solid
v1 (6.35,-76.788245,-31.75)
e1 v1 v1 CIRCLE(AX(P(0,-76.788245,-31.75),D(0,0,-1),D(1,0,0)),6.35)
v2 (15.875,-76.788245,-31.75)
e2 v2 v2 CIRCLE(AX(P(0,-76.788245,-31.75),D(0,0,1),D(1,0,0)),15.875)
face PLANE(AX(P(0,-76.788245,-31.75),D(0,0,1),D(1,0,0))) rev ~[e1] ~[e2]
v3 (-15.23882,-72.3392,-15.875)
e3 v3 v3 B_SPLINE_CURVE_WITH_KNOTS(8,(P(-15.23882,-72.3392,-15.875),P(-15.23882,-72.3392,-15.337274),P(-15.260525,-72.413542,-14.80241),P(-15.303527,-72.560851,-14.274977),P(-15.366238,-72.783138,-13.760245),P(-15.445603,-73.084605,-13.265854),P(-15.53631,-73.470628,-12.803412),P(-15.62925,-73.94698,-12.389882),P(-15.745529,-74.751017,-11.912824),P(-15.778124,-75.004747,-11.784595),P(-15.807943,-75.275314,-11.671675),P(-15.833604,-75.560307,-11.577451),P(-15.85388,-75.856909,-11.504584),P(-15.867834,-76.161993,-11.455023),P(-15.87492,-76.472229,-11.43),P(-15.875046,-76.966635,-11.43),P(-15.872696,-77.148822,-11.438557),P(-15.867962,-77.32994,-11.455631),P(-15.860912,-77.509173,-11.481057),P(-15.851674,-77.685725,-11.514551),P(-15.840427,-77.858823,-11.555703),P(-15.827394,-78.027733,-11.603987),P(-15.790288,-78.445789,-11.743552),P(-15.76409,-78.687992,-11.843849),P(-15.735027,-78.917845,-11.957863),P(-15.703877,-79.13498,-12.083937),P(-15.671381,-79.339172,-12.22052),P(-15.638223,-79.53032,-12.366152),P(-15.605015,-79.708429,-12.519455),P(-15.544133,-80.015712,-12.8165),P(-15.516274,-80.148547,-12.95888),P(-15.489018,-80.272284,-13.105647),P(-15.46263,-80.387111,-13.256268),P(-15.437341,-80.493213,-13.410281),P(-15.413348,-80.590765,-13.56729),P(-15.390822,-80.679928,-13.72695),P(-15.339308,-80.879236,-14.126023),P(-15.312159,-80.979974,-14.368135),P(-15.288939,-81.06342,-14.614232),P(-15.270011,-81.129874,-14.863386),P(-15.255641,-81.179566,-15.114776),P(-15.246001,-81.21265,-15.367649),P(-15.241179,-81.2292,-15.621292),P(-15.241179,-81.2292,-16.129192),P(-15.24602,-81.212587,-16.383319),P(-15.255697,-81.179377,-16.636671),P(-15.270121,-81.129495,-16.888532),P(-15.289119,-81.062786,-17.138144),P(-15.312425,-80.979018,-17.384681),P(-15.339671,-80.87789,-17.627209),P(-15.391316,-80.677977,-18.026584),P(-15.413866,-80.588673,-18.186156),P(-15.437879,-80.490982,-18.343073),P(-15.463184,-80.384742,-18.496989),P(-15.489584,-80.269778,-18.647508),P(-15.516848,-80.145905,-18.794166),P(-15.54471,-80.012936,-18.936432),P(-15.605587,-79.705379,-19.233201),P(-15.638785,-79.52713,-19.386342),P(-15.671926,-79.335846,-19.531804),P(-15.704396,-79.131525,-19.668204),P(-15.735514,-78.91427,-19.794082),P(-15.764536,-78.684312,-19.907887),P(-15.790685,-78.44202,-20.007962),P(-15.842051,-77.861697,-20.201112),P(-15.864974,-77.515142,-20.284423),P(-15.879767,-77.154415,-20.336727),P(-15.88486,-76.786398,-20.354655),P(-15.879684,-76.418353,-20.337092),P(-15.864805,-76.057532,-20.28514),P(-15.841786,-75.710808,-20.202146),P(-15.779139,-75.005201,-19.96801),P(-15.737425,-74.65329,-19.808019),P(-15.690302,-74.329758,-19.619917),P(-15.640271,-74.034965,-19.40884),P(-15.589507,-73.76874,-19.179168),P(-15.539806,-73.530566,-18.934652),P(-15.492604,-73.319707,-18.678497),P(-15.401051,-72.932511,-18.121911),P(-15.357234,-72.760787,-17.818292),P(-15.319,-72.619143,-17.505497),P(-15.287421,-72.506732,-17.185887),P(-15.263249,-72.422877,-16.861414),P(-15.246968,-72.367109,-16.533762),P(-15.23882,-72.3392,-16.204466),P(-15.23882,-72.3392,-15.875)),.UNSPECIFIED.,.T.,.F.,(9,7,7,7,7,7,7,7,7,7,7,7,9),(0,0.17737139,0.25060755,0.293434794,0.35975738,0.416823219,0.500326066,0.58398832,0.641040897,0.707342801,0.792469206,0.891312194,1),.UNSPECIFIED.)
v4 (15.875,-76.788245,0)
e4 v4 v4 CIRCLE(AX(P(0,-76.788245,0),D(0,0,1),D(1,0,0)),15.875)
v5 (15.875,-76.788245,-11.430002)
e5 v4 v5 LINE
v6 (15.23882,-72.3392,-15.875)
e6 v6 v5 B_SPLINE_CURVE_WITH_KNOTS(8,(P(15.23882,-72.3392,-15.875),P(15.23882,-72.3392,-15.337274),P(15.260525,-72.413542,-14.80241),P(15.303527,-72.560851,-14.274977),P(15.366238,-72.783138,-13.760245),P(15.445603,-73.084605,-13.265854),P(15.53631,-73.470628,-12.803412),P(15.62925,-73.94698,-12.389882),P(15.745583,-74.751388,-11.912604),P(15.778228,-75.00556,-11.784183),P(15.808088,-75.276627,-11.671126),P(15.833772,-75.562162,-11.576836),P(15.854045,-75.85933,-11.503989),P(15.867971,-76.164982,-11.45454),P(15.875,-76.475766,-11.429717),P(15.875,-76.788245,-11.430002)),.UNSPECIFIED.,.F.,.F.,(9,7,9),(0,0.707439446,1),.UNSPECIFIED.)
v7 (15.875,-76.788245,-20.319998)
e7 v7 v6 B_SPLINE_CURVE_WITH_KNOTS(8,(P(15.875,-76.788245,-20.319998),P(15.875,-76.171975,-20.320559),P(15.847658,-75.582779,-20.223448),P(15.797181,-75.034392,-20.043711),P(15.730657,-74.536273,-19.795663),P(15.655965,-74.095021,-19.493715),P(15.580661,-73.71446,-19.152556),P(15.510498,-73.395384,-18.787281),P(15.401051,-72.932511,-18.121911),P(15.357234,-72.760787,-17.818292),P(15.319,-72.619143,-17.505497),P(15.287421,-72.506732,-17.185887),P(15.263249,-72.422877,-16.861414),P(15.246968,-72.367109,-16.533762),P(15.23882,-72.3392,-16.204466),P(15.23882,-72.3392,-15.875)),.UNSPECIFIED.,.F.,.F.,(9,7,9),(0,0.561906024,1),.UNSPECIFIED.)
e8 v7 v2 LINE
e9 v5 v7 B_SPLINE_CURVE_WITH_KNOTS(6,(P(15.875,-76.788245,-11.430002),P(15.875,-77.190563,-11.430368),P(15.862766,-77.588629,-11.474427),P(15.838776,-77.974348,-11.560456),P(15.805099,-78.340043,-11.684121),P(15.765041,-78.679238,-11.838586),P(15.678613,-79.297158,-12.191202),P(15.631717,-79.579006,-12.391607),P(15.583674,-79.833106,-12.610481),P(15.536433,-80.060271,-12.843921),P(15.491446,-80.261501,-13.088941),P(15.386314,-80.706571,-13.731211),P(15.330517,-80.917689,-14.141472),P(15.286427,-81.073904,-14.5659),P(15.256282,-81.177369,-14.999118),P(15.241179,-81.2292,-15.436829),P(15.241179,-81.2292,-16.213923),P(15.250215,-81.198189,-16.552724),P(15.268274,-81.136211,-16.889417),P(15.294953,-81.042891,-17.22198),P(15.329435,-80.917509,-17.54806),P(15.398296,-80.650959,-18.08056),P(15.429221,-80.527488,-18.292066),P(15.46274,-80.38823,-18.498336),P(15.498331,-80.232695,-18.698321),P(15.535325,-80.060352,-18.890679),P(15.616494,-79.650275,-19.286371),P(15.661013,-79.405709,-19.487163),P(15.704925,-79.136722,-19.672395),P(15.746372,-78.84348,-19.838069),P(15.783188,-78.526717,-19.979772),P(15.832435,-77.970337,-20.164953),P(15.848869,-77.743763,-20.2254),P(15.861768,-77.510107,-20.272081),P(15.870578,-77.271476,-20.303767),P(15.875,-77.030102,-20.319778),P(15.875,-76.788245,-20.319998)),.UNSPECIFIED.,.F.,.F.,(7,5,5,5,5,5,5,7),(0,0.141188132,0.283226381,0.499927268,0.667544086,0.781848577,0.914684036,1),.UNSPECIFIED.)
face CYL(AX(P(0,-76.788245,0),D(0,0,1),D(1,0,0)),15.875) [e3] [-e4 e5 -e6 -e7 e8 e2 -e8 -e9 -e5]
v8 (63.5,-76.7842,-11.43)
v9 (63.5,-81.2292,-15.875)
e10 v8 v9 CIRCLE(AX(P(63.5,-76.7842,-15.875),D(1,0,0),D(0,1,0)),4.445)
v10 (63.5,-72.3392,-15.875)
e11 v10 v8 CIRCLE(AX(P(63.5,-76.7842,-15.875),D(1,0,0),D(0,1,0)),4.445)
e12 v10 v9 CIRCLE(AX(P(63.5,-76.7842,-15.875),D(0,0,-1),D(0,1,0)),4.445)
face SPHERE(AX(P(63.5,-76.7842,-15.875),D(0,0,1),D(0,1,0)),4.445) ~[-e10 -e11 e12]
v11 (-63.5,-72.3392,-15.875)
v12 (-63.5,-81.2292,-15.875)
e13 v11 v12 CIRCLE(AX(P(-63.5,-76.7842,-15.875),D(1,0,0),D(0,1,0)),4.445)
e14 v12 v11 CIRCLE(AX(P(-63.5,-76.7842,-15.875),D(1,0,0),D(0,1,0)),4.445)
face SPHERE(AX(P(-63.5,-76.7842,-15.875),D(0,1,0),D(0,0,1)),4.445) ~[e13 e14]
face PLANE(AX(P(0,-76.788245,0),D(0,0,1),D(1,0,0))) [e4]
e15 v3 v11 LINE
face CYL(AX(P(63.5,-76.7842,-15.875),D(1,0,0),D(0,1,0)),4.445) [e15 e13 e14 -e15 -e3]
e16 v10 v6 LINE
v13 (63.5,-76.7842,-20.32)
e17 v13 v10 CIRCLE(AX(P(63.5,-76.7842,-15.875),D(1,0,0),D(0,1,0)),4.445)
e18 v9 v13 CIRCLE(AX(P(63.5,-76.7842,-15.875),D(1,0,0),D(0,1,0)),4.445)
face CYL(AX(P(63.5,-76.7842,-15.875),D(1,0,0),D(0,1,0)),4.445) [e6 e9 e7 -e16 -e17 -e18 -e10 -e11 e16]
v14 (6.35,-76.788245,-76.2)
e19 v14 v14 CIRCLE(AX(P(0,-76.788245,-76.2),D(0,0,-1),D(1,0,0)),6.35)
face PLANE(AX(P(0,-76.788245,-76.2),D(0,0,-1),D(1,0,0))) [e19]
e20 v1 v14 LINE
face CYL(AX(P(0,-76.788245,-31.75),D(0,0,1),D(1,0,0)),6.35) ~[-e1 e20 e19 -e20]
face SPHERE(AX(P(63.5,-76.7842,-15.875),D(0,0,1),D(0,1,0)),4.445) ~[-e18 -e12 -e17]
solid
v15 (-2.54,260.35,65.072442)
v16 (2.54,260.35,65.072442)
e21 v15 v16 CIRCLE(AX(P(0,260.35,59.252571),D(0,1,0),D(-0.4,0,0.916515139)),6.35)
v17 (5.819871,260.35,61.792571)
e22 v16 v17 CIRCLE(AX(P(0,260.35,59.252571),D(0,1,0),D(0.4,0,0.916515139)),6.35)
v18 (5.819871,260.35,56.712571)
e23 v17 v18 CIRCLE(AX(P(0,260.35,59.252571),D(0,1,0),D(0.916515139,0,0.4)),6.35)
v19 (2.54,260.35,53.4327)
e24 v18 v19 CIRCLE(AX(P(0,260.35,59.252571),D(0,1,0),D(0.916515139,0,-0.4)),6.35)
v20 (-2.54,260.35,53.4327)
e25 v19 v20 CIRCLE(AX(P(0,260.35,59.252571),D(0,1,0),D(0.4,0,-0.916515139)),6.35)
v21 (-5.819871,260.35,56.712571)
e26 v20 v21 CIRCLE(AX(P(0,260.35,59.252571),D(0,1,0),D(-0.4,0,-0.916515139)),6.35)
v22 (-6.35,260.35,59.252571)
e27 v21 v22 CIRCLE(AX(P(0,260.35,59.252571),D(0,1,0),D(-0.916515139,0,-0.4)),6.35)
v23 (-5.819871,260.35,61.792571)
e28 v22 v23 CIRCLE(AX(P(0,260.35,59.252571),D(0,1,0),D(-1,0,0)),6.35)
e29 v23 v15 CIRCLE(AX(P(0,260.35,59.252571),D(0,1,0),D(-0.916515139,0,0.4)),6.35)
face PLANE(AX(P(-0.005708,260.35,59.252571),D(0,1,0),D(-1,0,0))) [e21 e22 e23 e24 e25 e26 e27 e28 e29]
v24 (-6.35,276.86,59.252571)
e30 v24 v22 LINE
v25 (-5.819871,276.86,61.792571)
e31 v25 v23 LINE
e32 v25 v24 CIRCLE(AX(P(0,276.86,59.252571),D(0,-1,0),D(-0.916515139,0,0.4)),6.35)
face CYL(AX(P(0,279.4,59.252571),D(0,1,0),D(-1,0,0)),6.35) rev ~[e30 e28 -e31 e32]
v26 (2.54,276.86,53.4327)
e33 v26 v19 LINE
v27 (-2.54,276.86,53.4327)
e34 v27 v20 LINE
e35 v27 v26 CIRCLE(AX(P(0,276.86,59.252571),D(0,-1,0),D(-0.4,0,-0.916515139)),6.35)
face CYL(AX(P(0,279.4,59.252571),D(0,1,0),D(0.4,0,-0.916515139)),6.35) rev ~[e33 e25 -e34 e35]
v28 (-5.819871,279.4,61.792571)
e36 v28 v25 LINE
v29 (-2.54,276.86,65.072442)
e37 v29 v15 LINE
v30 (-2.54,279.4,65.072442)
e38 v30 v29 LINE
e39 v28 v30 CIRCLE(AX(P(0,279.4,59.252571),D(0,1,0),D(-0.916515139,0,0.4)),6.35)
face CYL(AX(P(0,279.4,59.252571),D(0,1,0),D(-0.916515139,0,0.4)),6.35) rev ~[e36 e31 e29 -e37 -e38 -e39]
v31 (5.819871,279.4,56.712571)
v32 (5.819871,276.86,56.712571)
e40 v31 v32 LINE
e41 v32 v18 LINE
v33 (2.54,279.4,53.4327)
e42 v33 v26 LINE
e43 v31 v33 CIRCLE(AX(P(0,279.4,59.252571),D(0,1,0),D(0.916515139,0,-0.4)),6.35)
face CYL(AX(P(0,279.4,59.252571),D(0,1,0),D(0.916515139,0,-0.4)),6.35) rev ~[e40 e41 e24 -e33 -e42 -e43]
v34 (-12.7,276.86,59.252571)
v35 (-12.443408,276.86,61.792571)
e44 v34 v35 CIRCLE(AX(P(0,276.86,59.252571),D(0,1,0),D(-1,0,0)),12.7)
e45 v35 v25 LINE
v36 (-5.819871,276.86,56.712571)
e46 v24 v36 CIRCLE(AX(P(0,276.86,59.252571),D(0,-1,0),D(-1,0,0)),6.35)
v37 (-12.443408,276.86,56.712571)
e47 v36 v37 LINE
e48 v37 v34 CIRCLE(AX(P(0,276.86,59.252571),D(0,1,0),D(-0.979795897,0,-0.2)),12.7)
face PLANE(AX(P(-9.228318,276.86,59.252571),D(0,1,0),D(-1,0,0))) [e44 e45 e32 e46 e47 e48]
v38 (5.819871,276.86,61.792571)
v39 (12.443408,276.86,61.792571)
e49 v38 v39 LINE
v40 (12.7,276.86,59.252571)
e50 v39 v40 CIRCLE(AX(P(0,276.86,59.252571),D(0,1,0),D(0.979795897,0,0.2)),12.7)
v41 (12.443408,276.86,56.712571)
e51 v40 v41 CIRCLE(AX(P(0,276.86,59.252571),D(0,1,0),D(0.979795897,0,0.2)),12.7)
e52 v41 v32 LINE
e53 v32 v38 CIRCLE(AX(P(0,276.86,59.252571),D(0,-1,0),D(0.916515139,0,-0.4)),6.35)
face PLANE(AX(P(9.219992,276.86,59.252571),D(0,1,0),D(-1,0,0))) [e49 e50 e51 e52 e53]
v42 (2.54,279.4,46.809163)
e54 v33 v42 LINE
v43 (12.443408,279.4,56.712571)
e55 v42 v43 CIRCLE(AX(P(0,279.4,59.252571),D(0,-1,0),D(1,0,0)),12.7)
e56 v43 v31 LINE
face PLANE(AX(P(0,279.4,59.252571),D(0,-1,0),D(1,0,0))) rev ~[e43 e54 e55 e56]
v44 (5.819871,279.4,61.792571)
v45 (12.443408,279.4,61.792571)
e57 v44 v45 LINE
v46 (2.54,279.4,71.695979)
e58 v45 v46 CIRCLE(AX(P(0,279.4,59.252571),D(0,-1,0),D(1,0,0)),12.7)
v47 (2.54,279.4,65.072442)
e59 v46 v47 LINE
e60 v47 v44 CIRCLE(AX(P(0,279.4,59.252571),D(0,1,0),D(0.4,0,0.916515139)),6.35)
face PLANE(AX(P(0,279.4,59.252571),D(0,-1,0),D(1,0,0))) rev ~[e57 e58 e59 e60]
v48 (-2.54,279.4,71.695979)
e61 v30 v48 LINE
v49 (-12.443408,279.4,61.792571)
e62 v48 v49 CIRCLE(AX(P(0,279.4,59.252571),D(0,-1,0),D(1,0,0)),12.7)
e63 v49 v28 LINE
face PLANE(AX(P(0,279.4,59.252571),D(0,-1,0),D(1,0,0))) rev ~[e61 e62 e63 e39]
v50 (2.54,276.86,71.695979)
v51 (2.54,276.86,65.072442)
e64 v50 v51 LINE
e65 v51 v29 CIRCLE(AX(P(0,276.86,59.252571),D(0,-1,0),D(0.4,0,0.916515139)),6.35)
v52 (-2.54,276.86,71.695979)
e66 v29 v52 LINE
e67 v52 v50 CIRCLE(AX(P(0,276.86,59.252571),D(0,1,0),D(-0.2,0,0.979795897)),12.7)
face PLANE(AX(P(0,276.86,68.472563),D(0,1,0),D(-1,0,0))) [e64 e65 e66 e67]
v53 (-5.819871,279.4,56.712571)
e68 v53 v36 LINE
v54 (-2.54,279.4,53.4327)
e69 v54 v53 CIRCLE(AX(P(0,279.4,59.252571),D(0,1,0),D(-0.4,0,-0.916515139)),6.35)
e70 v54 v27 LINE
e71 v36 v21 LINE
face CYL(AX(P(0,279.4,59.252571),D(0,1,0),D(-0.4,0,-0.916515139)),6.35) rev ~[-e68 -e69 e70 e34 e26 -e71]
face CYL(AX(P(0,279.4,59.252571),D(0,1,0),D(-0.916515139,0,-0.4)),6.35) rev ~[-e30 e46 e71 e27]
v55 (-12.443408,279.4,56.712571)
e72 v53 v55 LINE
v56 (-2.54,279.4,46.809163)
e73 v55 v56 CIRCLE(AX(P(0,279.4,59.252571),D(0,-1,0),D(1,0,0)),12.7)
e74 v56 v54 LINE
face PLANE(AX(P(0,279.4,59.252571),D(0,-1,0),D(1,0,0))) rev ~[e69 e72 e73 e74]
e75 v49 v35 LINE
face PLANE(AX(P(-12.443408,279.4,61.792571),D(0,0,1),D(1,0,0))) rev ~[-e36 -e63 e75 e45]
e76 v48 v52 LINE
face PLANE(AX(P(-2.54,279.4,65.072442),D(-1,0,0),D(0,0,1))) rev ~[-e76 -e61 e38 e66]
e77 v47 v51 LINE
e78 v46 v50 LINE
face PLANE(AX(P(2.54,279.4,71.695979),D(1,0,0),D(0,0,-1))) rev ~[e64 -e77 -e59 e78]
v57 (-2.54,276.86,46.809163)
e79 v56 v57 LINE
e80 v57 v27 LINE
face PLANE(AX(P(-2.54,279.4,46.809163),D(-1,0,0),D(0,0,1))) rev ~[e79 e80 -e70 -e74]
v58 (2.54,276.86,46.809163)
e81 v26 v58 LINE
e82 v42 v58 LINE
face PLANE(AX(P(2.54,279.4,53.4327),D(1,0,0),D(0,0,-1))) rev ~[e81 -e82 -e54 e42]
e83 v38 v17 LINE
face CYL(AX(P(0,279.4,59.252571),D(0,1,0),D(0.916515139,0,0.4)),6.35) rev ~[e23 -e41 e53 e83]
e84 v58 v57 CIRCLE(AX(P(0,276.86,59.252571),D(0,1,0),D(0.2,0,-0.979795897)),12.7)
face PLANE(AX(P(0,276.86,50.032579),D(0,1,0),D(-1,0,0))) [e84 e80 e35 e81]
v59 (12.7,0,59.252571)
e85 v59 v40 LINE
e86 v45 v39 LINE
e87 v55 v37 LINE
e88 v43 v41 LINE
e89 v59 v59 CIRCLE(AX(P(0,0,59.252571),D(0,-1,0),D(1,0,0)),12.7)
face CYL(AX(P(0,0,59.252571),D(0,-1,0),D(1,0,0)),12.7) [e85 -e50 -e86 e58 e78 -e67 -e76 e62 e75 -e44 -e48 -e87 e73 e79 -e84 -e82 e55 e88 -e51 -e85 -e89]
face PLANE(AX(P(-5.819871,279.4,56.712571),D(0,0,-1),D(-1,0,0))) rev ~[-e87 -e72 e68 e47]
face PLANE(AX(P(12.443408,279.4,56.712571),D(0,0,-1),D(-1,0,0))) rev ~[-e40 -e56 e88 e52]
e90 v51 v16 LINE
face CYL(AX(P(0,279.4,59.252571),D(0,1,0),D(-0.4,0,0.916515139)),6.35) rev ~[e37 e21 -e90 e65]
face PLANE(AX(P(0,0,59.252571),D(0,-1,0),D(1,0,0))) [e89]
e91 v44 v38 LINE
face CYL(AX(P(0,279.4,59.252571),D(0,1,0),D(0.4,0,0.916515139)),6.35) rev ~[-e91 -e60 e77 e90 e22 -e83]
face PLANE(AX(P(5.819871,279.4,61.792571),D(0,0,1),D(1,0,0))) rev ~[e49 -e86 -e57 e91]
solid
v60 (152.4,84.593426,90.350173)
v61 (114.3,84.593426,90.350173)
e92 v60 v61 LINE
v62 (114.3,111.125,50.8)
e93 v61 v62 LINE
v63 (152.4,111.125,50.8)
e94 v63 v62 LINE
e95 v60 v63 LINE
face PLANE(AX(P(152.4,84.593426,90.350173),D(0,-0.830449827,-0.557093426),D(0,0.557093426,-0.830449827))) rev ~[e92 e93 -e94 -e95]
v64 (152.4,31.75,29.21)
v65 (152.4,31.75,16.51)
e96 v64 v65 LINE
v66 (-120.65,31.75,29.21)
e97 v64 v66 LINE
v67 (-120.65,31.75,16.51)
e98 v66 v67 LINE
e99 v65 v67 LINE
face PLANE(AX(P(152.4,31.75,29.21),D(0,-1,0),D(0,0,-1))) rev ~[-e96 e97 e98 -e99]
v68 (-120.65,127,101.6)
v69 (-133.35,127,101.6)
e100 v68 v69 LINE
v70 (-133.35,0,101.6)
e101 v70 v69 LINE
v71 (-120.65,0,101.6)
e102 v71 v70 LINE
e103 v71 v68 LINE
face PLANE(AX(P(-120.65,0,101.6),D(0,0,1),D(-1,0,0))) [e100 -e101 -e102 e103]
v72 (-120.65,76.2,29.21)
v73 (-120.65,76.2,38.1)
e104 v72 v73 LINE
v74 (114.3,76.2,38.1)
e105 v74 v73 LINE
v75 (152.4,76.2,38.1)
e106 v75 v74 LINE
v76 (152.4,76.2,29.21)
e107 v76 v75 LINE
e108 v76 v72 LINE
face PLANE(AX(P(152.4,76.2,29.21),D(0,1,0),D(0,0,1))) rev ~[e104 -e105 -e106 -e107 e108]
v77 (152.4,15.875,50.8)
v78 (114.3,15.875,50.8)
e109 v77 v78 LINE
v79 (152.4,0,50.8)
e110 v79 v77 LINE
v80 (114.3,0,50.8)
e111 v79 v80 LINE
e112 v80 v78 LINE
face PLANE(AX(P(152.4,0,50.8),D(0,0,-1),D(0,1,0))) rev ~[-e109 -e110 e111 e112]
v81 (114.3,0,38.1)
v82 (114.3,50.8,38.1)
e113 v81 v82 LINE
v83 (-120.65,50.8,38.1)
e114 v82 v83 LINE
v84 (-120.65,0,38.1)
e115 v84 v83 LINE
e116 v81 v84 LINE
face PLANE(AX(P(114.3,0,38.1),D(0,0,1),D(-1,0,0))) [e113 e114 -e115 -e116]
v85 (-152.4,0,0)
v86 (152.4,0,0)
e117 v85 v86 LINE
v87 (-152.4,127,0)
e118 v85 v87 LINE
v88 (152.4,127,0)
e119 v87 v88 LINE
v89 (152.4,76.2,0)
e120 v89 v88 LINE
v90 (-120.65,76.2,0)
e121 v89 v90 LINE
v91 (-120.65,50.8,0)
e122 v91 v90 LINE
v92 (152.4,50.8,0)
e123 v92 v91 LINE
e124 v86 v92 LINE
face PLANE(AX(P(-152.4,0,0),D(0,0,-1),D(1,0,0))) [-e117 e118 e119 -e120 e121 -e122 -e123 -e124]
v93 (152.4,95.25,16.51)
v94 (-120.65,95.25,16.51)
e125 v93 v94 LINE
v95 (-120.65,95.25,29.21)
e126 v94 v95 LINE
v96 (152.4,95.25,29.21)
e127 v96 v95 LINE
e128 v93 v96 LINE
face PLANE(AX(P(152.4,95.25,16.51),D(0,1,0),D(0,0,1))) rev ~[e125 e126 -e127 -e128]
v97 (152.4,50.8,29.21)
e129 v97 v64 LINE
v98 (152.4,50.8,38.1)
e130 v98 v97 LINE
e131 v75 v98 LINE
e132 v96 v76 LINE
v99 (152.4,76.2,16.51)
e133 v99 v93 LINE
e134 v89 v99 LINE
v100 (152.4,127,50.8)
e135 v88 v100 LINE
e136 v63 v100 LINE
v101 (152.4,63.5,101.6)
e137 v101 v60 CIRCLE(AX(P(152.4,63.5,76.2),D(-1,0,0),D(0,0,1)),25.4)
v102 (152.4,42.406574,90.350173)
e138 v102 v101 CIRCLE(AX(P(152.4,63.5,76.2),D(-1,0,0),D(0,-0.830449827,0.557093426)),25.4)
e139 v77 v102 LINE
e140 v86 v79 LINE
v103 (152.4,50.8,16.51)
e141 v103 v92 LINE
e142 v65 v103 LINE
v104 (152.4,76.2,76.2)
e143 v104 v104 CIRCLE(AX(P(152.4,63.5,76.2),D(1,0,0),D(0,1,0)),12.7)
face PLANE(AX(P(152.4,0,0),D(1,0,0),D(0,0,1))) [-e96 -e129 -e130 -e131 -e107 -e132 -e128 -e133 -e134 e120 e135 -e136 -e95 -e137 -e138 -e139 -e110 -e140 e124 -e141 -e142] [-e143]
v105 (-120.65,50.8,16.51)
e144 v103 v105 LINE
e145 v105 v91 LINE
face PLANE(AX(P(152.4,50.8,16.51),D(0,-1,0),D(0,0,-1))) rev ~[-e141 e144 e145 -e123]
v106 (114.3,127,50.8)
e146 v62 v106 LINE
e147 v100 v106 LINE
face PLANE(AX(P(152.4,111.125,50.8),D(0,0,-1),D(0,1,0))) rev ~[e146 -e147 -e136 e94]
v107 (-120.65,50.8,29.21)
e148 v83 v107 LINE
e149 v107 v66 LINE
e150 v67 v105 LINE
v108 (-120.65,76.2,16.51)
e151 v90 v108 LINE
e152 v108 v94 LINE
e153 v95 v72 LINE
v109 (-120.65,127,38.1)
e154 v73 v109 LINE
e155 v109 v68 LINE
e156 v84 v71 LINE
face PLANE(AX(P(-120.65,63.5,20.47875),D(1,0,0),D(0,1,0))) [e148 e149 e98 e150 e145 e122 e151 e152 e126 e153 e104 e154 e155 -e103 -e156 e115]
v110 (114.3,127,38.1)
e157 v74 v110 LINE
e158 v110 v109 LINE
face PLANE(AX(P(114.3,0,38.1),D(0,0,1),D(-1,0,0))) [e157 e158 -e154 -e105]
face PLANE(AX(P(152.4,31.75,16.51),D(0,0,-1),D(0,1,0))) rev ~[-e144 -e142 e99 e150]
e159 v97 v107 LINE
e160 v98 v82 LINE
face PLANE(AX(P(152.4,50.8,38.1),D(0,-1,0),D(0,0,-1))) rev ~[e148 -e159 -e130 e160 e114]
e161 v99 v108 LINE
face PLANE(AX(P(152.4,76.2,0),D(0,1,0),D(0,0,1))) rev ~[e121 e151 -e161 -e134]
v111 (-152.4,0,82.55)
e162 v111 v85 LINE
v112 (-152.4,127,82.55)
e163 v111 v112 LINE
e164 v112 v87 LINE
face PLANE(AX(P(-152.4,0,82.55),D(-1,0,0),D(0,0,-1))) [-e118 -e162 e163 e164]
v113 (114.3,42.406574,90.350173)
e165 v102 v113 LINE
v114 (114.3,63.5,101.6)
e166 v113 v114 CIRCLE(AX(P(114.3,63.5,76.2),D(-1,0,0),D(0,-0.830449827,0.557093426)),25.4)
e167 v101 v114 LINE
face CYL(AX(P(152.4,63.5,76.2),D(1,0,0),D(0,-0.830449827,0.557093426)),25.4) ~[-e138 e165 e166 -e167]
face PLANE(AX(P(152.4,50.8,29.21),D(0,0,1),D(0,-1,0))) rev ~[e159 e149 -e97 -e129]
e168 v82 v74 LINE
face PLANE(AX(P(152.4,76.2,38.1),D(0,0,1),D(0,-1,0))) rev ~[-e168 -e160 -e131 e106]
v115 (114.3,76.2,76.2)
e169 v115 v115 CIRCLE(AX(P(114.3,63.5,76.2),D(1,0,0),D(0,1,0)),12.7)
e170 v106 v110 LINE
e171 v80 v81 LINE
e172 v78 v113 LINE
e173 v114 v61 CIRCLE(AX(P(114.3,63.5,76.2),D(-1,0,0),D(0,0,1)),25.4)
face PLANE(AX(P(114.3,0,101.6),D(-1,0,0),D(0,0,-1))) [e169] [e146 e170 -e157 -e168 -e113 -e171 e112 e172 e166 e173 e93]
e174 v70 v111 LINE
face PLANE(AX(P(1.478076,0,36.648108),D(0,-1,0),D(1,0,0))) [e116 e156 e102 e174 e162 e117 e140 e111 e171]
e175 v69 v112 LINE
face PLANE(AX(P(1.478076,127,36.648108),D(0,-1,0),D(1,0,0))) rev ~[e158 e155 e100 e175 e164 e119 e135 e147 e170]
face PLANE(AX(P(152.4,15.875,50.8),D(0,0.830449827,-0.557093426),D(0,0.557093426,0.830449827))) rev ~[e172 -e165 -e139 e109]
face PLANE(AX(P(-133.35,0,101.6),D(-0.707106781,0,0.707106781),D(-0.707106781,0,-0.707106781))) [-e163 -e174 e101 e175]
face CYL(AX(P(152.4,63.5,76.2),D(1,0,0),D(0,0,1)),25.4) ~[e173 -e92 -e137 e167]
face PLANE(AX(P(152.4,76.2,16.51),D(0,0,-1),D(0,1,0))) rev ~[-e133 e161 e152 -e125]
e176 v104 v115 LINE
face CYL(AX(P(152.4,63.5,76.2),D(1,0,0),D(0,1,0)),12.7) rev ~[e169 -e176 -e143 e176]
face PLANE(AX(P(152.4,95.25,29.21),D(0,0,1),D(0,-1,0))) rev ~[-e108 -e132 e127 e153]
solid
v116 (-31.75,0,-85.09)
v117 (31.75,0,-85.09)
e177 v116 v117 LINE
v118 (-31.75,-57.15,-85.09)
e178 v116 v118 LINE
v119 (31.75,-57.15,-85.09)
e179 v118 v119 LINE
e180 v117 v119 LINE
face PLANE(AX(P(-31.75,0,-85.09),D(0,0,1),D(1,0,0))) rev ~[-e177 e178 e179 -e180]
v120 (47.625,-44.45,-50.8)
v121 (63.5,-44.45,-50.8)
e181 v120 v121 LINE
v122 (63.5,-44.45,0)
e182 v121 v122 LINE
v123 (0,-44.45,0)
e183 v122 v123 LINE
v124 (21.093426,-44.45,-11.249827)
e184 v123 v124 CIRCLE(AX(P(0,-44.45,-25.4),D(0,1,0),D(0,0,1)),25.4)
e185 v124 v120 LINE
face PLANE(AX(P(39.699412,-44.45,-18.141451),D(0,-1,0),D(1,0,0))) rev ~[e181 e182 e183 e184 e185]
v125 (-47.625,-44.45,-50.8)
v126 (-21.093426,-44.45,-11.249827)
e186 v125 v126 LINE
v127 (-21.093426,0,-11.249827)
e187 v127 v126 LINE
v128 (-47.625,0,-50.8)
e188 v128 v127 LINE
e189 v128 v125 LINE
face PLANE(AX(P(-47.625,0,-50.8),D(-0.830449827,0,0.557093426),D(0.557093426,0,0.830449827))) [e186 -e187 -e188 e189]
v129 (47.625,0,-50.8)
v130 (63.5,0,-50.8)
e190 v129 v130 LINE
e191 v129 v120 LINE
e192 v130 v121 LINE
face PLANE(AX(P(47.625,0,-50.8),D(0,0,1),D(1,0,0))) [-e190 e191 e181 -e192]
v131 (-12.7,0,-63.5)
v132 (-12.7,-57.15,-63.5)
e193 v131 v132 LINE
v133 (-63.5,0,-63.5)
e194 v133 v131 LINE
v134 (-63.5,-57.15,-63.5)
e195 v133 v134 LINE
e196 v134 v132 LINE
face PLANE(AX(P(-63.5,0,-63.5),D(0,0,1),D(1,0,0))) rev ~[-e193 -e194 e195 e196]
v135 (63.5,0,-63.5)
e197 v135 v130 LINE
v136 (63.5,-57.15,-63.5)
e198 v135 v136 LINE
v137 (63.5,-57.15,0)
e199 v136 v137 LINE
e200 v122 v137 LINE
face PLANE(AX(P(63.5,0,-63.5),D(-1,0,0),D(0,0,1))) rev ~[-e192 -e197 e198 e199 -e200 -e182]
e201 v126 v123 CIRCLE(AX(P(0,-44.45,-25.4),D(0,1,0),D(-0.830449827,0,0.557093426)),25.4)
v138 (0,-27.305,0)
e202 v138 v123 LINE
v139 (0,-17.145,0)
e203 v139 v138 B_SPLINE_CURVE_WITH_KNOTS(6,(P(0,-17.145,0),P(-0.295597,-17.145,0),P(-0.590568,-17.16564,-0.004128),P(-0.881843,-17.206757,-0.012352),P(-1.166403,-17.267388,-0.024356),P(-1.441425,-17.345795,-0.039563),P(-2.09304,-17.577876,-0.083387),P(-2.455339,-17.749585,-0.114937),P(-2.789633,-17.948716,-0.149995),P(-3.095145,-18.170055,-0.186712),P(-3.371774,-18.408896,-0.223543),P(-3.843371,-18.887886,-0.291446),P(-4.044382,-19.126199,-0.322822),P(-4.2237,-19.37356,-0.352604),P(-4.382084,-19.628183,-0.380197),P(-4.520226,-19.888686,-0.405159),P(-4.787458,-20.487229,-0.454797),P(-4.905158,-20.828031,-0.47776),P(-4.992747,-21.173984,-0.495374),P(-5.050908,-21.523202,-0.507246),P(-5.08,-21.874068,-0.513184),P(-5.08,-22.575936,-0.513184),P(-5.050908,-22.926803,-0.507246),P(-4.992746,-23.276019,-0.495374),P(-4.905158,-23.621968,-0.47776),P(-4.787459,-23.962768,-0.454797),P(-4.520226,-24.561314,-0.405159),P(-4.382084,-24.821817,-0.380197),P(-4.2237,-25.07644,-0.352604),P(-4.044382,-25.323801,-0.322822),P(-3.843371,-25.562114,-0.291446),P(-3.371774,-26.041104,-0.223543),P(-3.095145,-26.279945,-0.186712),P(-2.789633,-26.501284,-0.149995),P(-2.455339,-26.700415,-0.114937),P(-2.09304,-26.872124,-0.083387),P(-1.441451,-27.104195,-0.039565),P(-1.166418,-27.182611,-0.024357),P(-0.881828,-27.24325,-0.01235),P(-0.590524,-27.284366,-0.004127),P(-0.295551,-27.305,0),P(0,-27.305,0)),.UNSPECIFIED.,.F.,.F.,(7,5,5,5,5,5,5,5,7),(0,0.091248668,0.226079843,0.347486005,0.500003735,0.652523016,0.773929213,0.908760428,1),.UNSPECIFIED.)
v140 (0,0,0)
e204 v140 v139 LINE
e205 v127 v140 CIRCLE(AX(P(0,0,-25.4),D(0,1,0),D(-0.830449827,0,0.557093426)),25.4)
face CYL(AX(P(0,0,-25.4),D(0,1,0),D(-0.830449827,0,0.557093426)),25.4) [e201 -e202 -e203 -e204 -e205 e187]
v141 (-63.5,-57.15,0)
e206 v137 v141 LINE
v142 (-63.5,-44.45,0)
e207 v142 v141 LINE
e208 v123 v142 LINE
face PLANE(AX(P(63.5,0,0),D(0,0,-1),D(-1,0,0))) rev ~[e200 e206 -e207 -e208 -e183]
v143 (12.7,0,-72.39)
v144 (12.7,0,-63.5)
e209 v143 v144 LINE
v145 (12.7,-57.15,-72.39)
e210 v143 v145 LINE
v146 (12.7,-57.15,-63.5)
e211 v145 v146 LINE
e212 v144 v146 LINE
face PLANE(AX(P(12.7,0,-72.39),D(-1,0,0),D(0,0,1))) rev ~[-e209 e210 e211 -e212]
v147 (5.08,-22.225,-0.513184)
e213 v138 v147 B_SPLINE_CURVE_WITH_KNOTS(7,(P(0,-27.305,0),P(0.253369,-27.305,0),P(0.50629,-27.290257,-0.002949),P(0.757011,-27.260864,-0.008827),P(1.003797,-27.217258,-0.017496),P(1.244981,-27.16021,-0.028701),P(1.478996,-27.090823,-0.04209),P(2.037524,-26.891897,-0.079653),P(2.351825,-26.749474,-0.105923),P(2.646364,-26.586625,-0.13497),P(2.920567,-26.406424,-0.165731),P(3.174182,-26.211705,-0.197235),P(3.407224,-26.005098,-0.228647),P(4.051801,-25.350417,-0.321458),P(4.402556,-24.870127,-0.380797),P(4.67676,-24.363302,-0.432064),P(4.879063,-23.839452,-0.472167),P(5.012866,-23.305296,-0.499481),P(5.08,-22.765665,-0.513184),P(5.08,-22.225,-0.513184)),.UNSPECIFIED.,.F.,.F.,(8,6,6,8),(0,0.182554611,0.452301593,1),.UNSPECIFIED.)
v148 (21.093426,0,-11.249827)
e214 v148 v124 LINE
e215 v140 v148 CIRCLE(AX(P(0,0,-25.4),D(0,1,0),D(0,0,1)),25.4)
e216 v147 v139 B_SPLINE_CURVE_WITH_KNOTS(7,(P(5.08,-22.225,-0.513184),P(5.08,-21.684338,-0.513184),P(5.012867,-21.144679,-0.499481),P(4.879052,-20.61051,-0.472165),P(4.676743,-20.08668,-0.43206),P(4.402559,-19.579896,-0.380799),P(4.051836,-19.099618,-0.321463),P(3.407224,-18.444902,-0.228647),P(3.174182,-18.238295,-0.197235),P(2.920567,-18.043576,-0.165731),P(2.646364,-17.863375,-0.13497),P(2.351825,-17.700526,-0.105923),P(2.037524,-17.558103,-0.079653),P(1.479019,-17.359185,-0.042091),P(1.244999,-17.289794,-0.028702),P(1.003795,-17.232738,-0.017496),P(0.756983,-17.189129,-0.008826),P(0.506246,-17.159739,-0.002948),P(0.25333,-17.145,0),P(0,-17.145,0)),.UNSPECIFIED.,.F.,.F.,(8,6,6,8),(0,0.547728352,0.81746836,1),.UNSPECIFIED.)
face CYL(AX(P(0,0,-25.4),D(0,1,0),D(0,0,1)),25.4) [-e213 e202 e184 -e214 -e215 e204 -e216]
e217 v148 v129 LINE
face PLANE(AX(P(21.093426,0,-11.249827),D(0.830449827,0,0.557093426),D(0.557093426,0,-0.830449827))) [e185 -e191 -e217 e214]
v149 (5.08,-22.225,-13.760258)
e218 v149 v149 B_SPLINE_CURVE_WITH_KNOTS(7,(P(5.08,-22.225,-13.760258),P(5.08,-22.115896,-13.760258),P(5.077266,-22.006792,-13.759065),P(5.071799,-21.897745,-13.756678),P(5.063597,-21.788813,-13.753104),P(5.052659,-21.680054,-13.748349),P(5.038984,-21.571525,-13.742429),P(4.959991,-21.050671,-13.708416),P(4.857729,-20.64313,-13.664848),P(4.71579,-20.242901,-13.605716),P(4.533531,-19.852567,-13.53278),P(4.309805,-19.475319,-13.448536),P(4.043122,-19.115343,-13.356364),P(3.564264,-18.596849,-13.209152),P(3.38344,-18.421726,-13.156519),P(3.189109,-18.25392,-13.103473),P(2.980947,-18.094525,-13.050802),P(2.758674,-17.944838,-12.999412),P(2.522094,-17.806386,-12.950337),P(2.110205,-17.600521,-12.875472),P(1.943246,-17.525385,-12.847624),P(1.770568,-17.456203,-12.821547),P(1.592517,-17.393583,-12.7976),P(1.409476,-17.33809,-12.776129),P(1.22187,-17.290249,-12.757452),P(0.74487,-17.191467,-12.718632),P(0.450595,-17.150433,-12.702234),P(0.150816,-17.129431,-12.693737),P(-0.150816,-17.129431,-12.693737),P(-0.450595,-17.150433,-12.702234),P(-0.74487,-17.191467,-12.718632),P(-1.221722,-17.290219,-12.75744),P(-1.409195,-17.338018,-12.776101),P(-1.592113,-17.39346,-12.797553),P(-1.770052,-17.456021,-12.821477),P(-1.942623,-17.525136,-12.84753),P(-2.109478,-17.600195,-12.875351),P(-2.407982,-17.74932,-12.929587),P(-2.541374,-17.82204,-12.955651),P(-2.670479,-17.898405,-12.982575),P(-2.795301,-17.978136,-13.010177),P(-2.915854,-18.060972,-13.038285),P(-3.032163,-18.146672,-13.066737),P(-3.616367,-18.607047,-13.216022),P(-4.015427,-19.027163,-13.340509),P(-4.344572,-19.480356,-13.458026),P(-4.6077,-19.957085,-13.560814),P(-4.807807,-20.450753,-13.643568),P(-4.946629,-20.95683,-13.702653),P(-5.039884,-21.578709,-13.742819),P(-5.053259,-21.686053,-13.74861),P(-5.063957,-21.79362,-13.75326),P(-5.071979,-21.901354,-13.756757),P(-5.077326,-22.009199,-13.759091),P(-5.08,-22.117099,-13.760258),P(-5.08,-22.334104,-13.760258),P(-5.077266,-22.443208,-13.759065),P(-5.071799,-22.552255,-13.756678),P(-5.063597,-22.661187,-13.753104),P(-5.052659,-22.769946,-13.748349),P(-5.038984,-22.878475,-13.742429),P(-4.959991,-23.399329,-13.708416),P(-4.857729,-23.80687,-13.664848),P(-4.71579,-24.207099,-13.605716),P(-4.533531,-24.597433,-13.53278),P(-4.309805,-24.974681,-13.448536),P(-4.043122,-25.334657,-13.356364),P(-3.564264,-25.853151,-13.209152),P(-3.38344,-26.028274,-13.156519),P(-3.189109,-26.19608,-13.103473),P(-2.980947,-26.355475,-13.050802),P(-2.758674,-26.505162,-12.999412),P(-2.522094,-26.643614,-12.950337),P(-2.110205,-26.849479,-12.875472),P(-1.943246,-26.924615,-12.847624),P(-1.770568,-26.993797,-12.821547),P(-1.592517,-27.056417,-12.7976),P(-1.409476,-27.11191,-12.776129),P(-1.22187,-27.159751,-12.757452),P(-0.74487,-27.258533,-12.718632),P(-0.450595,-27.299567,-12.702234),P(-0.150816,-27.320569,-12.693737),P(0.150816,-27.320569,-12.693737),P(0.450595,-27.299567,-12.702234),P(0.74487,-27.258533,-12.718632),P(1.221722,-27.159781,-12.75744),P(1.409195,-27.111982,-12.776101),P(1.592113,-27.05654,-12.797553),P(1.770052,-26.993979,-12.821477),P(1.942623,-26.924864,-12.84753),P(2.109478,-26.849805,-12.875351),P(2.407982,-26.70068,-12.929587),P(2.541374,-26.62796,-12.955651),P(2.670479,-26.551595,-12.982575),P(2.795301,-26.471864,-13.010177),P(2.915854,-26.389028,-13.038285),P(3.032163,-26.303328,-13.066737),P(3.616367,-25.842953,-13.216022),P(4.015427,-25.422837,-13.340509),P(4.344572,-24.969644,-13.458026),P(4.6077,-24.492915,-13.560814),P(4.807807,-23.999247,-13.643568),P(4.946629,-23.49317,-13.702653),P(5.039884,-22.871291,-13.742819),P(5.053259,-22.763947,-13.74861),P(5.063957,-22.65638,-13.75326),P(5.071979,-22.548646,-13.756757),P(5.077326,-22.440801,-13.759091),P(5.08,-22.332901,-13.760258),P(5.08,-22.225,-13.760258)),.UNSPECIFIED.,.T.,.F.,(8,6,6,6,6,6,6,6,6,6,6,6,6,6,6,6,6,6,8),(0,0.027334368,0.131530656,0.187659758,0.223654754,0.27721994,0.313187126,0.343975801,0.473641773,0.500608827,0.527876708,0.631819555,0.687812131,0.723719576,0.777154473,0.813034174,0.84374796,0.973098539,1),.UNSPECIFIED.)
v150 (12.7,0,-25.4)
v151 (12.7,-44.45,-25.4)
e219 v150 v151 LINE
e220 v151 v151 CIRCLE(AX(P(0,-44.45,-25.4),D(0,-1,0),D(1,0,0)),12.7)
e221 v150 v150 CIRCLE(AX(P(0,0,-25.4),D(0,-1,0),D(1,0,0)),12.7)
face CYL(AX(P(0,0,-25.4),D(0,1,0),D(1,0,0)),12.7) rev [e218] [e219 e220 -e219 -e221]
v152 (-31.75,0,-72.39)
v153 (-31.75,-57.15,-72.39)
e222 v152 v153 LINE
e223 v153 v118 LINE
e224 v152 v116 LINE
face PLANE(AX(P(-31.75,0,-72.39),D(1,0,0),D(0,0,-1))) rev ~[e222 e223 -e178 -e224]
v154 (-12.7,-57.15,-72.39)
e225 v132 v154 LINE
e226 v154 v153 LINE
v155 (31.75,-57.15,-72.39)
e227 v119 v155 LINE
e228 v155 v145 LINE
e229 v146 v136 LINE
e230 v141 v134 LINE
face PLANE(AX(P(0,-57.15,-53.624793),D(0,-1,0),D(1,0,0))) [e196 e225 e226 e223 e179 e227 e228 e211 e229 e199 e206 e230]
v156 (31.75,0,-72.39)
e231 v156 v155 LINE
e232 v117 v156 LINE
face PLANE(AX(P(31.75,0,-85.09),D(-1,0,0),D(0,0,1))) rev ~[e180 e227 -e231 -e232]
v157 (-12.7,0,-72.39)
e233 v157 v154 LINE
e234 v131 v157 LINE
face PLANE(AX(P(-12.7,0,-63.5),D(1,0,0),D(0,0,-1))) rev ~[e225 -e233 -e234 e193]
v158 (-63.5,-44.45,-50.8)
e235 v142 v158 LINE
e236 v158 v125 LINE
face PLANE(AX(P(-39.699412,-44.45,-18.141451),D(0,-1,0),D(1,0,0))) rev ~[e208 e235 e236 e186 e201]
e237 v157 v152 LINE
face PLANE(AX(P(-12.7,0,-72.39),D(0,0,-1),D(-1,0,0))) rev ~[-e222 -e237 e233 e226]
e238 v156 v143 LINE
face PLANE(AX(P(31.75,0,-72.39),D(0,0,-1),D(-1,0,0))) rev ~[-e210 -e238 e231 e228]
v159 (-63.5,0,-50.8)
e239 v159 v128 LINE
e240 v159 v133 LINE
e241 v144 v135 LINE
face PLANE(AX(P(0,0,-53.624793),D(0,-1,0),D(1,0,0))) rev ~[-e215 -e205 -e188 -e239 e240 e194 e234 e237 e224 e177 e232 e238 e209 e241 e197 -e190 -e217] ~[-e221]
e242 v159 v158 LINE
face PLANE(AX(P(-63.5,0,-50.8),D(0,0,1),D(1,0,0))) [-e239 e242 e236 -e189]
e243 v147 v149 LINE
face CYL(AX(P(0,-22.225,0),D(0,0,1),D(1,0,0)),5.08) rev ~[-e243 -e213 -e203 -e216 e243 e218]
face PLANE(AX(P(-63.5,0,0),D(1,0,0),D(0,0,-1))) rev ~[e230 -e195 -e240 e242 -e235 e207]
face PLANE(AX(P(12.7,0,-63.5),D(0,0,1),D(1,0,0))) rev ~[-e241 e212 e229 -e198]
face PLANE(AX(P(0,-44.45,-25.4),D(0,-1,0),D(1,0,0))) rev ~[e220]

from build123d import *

# Parameters (mm, degrees)
F1_DEPTH  = 127
F2_R      = 12.7
F3_DEPTH  = 38.1
F4_DEPTH  = 273.05
F5_R      = 12.7
F6_DEPTH  = 57.15
F7_R      = 5.08
F8_DEPTH  = 31.75
F9_DEPTH  = 44.45
F10_DEPTH = 44.45
F11_R     = 12.7
F12_DEPTH = 279.4
F14_DEPTH = 19.05
F15_DEPTH = 2.54
F16_R     = 15.875
F17_DEPTH = 31.75
F18_R     = 6.35
F19_DEPTH = 44.45
F20_R     = 4.445
F21_DEPTH = 127


with BuildPart() as f1:
    # F0 (on Front) → F1 (new body)
    with BuildSketch(Plane.XZ):
        Polygon((-152.4, 82.55), (-152.4, 0), (152.4, 0), (152.4, 101.6), (114.3, 101.6), (114.3, 38.1), (-120.65, 38.1), (-120.65, 101.6), (-133.35, 101.6), align=None)
    extrude(amount=-F1_DEPTH)

    # F2 (on face) → F3 (cut, through all)
    with BuildSketch(Plane.YZ.offset(152.4)):
        with BuildLine():
            Line((0, 101.6), (0, 50.8))
            Line((0, 50.8), (15.875, 50.8))
            Line((15.875, 50.8), (42.4065743945, 90.3501730104))
            ThreePointArc((42.4065743945, 90.3501730104), (51.5470588235, 98.6117647059), (63.5, 101.6))
            Line((63.5, 101.6), (0, 101.6))
        make_face()
        with BuildLine():
            Line((127, 101.6), (63.5, 101.6))
            ThreePointArc((63.5, 101.6), (75.4529411765, 98.6117647059), (84.5934256055, 90.3501730104))
            Line((84.5934256055, 90.3501730104), (111.125, 50.8))
            Line((111.125, 50.8), (127, 50.8))
            Line((127, 50.8), (127, 101.6))
        make_face()
        with Locations((63.5, 76.2)):
            Circle(F2_R)
    extrude(amount=-F3_DEPTH, mode=Mode.SUBTRACT)

    # F2 (on face) → F4 (cut, through all)
    with BuildSketch(Plane.YZ.offset(152.4)):
        Polygon((50.8, 16.51), (50.8, 0), (76.2, 0), (76.2, 16.51), (95.25, 16.51), (95.25, 29.21), (76.2, 29.21), (76.2, 38.1), (50.8, 38.1), (50.8, 29.21), (31.75, 29.21), (31.75, 16.51), align=None)
    extrude(amount=-F4_DEPTH, mode=Mode.SUBTRACT)


with BuildPart() as f6:
    # F5 (on Front) → F6 (new body)
    with BuildSketch(Plane.XZ):
        with BuildLine():
            Line((-63.5, -50.8), (-63.5, -63.5))
            Line((-63.5, -63.5), (-12.7, -63.5))
            Line((-12.7, -63.5), (-12.7, -72.39))
            Line((-12.7, -72.39), (-31.75, -72.39))
            Line((-31.75, -72.39), (-31.75, -85.09))
            Line((-31.75, -85.09), (31.75, -85.09))
            Line((31.75, -85.09), (31.75, -72.39))
            Line((31.75, -72.39), (12.7, -72.39))
            Line((12.7, -72.39), (12.7, -63.5))
            Line((12.7, -63.5), (63.5, -63.5))
            Line((63.5, -63.5), (63.5, -50.8))
            Line((63.5, -50.8), (47.625, -50.8))
            Line((47.625, -50.8), (21.0934256055, -11.2498269896))
            ThreePointArc((21.0934256055, -11.2498269896), (11.9529411765, -2.9882352941), (0, 0))
            ThreePointArc((0, 0), (-11.9529411765, -2.9882352941), (-21.0934256055, -11.2498269896))
            Line((-21.0934256055, -11.2498269896), (-47.625, -50.8))
            Line((-47.625, -50.8), (-63.5, -50.8))
        make_face()
        with Locations((0, -25.4)):
            Circle(F5_R, mode=Mode.SUBTRACT)
        with BuildLine():
            Line((-63.5, 0), (-63.5, -50.8))
            Line((-63.5, -50.8), (-47.625, -50.8))
            Line((-47.625, -50.8), (-21.0934256055, -11.2498269896))
            ThreePointArc((-21.0934256055, -11.2498269896), (-11.9529411765, -2.9882352941), (0, 0))
            Line((0, 0), (-63.5, 0))
        make_face()
        with BuildLine():
            Line((63.5, 0), (0, 0))
            ThreePointArc((0, 0), (11.9529411765, -2.9882352941), (21.0934256055, -11.2498269896))
            Line((21.0934256055, -11.2498269896), (47.625, -50.8))
            Line((47.625, -50.8), (63.5, -50.8))
            Line((63.5, -50.8), (63.5, 0))
        make_face()
        with Locations((0, -25.4)):
            Circle(F5_R)
    extrude(amount=F6_DEPTH)

    # F7 (on face) → F8 (cut)
    with BuildSketch(Plane.XY):
        with Locations((0, -22.225)):
            Circle(F7_R)
    extrude(amount=-F8_DEPTH, mode=Mode.SUBTRACT)

    # F5 (on Front) → F9 (cut)
    with BuildSketch(Plane.XZ):
        with BuildLine():
            Line((63.5, 0), (0, 0))
            ThreePointArc((0, 0), (11.9529411765, -2.9882352941), (21.0934256055, -11.2498269896))
            Line((21.0934256055, -11.2498269896), (47.625, -50.8))
            Line((47.625, -50.8), (63.5, -50.8))
            Line((63.5, -50.8), (63.5, 0))
        make_face()
        with BuildLine():
            Line((-63.5, 0), (-63.5, -50.8))
            Line((-63.5, -50.8), (-47.625, -50.8))
            Line((-47.625, -50.8), (-21.0934256055, -11.2498269896))
            ThreePointArc((-21.0934256055, -11.2498269896), (-11.9529411765, -2.9882352941), (0, 0))
            Line((0, 0), (-63.5, 0))
        make_face()
    extrude(amount=F9_DEPTH, mode=Mode.SUBTRACT)

    # F5 (on Front) → F10 (cut)
    with BuildSketch(Plane.XZ):
        with Locations((0, -25.4)):
            Circle(F5_R)
    extrude(amount=F10_DEPTH, mode=Mode.SUBTRACT)


with BuildPart() as f12:
    # F11 (on Front) → F12 (new body)
    with BuildSketch(Plane.XZ):
        with Locations((0, 59.2525709756)):
            Circle(F11_R)
    extrude(amount=-F12_DEPTH)

    # F13 (on face) → F14 (cut)
    with BuildSketch(Plane(origin=(0, 279.4, 0), x_dir=(-1, 0, 0), z_dir=(0, 1, 0))):
        with BuildLine():
            ThreePointArc((5.8198711326, 56.7125709756), (6.2160550871, 57.9552047381), (6.35, 59.2525709756))
            ThreePointArc((6.35, 59.2525709756), (6.2160550871, 60.549937213), (5.8198711326, 61.7925709756))
            ThreePointArc((5.8198711326, 61.7925709756), (4.4901280605, 63.7426990361), (2.54, 65.0724421082))
            ThreePointArc((2.54, 65.0724421082), (0, 65.6025709756), (-2.54, 65.0724421082))
            ThreePointArc((-2.54, 65.0724421082), (-4.4901280605, 63.7426990361), (-5.8198711326, 61.7925709756))
            ThreePointArc((-5.8198711326, 61.7925709756), (-6.35, 59.2525709756), (-5.8198711326, 56.7125709756))
            ThreePointArc((-5.8198711326, 56.7125709756), (-4.4901280605, 54.762442915), (-2.54, 53.432699843))
            ThreePointArc((-2.54, 53.432699843), (0, 52.9025709756), (2.54, 53.432699843))
            ThreePointArc((2.54, 53.432699843), (4.4901280605, 54.762442915), (5.8198711326, 56.7125709756))
        make_face()
    extrude(amount=-F14_DEPTH, mode=Mode.SUBTRACT)

    # F13 (on face) → F15 (cut)
    with BuildSketch(Plane(origin=(0, 279.4, 0), x_dir=(-1, 0, 0), z_dir=(0, 1, 0))):
        with BuildLine():
            ThreePointArc((5.8198711326, 61.7925709756), (6.2160550871, 60.549937213), (6.35, 59.2525709756))
            ThreePointArc((6.35, 59.2525709756), (6.2160550871, 57.9552047381), (5.8198711326, 56.7125709756))
            Line((5.8198711326, 56.7125709756), (12.4434078933, 56.7125709756))
            ThreePointArc((12.4434078933, 56.7125709756), (12.6356891432, 57.9761071581), (12.7, 59.2525709756))
            ThreePointArc((12.7, 59.2525709756), (12.6356891432, 60.529034793), (12.4434078933, 61.7925709756))
            Line((12.4434078933, 61.7925709756), (5.8198711326, 61.7925709756))
        make_face()
        with BuildLine():
            Line((2.54, 46.8091630822), (2.54, 53.432699843))
            ThreePointArc((2.54, 53.432699843), (0, 52.9025709756), (-2.54, 53.432699843))
            Line((-2.54, 53.432699843), (-2.54, 46.8091630822))
            ThreePointArc((-2.54, 46.8091630822), (0, 46.5525709756), (2.54, 46.8091630822))
        make_face()
        with BuildLine():
            ThreePointArc((-5.8198711326, 56.7125709756), (-6.35, 59.2525709756), (-5.8198711326, 61.7925709756))
            Line((-5.8198711326, 61.7925709756), (-12.4434078933, 61.7925709756))
            ThreePointArc((-12.4434078933, 61.7925709756), (-12.7, 59.2525709756), (-12.4434078933, 56.7125709756))
            Line((-12.4434078933, 56.7125709756), (-5.8198711326, 56.7125709756))
        make_face()
        with BuildLine():
            ThreePointArc((-2.54, 65.0724421082), (0, 65.6025709756), (2.54, 65.0724421082))
            Line((2.54, 65.0724421082), (2.54, 71.6959788689))
            ThreePointArc((2.54, 71.6959788689), (0, 71.9525709756), (-2.54, 71.6959788689))
            Line((-2.54, 71.6959788689), (-2.54, 65.0724421082))
        make_face()
    extrude(amount=-F15_DEPTH, mode=Mode.SUBTRACT)


with BuildPart() as f17:
    # F16 (on Top) → F17 (new body)
    with BuildSketch(Plane.XY):
        with Locations((0, -76.7882447423)):
            Circle(F16_R)
    extrude(amount=-F17_DEPTH)

    # F18 (on face) → F19 (join)
    with BuildSketch(Plane(origin=(0, 0, -31.75), x_dir=(1, 0, 0), z_dir=(0, 0, -1))):
        with Locations((0, 76.7882447423)):
            Circle(F18_R)
    extrude(amount=F19_DEPTH)

    # F20 (on face) → F21 (join)
    with BuildSketch(Plane.YZ.offset(63.5)):
        with Locations((-76.7842, -15.875)):
            Circle(F20_R)
    extrude(amount=-F21_DEPTH)

    # F22 (on face) → F23 (revolve)
    with BuildSketch(Plane.YZ.offset(63.5)):
        with BuildLine():
            ThreePointArc((-72.3392, -15.875), (-73.6411103576, -12.7319103576), (-76.7842, -11.43))
            Line((-76.7842, -11.43), (-76.7842, -20.32))
            ThreePointArc((-76.7842, -20.32), (-73.6411103576, -19.0180896424), (-72.3392, -15.875))
        make_face()
    revolve(axis=Axis((63.5, -76.7842, -15.875), (0, 0, -1)))

    # F24 (on face) → F25 (revolve)
    with BuildSketch(Plane(origin=(-63.5, 0, 0), x_dir=(0, -1, 0), z_dir=(-1, 0, 0))):
        with BuildLine():
            ThreePointArc((81.2292, -15.875), (76.7842, -11.43), (72.3392, -15.875))
            Line((72.3392, -15.875), (81.2292, -15.875))
        make_face()
    revolve(axis=Axis((-63.5, -76.7159111088, -15.875), (0, -1, 0)))


solid = Compound([f1.part, f6.part, f12.part, f17.part])
